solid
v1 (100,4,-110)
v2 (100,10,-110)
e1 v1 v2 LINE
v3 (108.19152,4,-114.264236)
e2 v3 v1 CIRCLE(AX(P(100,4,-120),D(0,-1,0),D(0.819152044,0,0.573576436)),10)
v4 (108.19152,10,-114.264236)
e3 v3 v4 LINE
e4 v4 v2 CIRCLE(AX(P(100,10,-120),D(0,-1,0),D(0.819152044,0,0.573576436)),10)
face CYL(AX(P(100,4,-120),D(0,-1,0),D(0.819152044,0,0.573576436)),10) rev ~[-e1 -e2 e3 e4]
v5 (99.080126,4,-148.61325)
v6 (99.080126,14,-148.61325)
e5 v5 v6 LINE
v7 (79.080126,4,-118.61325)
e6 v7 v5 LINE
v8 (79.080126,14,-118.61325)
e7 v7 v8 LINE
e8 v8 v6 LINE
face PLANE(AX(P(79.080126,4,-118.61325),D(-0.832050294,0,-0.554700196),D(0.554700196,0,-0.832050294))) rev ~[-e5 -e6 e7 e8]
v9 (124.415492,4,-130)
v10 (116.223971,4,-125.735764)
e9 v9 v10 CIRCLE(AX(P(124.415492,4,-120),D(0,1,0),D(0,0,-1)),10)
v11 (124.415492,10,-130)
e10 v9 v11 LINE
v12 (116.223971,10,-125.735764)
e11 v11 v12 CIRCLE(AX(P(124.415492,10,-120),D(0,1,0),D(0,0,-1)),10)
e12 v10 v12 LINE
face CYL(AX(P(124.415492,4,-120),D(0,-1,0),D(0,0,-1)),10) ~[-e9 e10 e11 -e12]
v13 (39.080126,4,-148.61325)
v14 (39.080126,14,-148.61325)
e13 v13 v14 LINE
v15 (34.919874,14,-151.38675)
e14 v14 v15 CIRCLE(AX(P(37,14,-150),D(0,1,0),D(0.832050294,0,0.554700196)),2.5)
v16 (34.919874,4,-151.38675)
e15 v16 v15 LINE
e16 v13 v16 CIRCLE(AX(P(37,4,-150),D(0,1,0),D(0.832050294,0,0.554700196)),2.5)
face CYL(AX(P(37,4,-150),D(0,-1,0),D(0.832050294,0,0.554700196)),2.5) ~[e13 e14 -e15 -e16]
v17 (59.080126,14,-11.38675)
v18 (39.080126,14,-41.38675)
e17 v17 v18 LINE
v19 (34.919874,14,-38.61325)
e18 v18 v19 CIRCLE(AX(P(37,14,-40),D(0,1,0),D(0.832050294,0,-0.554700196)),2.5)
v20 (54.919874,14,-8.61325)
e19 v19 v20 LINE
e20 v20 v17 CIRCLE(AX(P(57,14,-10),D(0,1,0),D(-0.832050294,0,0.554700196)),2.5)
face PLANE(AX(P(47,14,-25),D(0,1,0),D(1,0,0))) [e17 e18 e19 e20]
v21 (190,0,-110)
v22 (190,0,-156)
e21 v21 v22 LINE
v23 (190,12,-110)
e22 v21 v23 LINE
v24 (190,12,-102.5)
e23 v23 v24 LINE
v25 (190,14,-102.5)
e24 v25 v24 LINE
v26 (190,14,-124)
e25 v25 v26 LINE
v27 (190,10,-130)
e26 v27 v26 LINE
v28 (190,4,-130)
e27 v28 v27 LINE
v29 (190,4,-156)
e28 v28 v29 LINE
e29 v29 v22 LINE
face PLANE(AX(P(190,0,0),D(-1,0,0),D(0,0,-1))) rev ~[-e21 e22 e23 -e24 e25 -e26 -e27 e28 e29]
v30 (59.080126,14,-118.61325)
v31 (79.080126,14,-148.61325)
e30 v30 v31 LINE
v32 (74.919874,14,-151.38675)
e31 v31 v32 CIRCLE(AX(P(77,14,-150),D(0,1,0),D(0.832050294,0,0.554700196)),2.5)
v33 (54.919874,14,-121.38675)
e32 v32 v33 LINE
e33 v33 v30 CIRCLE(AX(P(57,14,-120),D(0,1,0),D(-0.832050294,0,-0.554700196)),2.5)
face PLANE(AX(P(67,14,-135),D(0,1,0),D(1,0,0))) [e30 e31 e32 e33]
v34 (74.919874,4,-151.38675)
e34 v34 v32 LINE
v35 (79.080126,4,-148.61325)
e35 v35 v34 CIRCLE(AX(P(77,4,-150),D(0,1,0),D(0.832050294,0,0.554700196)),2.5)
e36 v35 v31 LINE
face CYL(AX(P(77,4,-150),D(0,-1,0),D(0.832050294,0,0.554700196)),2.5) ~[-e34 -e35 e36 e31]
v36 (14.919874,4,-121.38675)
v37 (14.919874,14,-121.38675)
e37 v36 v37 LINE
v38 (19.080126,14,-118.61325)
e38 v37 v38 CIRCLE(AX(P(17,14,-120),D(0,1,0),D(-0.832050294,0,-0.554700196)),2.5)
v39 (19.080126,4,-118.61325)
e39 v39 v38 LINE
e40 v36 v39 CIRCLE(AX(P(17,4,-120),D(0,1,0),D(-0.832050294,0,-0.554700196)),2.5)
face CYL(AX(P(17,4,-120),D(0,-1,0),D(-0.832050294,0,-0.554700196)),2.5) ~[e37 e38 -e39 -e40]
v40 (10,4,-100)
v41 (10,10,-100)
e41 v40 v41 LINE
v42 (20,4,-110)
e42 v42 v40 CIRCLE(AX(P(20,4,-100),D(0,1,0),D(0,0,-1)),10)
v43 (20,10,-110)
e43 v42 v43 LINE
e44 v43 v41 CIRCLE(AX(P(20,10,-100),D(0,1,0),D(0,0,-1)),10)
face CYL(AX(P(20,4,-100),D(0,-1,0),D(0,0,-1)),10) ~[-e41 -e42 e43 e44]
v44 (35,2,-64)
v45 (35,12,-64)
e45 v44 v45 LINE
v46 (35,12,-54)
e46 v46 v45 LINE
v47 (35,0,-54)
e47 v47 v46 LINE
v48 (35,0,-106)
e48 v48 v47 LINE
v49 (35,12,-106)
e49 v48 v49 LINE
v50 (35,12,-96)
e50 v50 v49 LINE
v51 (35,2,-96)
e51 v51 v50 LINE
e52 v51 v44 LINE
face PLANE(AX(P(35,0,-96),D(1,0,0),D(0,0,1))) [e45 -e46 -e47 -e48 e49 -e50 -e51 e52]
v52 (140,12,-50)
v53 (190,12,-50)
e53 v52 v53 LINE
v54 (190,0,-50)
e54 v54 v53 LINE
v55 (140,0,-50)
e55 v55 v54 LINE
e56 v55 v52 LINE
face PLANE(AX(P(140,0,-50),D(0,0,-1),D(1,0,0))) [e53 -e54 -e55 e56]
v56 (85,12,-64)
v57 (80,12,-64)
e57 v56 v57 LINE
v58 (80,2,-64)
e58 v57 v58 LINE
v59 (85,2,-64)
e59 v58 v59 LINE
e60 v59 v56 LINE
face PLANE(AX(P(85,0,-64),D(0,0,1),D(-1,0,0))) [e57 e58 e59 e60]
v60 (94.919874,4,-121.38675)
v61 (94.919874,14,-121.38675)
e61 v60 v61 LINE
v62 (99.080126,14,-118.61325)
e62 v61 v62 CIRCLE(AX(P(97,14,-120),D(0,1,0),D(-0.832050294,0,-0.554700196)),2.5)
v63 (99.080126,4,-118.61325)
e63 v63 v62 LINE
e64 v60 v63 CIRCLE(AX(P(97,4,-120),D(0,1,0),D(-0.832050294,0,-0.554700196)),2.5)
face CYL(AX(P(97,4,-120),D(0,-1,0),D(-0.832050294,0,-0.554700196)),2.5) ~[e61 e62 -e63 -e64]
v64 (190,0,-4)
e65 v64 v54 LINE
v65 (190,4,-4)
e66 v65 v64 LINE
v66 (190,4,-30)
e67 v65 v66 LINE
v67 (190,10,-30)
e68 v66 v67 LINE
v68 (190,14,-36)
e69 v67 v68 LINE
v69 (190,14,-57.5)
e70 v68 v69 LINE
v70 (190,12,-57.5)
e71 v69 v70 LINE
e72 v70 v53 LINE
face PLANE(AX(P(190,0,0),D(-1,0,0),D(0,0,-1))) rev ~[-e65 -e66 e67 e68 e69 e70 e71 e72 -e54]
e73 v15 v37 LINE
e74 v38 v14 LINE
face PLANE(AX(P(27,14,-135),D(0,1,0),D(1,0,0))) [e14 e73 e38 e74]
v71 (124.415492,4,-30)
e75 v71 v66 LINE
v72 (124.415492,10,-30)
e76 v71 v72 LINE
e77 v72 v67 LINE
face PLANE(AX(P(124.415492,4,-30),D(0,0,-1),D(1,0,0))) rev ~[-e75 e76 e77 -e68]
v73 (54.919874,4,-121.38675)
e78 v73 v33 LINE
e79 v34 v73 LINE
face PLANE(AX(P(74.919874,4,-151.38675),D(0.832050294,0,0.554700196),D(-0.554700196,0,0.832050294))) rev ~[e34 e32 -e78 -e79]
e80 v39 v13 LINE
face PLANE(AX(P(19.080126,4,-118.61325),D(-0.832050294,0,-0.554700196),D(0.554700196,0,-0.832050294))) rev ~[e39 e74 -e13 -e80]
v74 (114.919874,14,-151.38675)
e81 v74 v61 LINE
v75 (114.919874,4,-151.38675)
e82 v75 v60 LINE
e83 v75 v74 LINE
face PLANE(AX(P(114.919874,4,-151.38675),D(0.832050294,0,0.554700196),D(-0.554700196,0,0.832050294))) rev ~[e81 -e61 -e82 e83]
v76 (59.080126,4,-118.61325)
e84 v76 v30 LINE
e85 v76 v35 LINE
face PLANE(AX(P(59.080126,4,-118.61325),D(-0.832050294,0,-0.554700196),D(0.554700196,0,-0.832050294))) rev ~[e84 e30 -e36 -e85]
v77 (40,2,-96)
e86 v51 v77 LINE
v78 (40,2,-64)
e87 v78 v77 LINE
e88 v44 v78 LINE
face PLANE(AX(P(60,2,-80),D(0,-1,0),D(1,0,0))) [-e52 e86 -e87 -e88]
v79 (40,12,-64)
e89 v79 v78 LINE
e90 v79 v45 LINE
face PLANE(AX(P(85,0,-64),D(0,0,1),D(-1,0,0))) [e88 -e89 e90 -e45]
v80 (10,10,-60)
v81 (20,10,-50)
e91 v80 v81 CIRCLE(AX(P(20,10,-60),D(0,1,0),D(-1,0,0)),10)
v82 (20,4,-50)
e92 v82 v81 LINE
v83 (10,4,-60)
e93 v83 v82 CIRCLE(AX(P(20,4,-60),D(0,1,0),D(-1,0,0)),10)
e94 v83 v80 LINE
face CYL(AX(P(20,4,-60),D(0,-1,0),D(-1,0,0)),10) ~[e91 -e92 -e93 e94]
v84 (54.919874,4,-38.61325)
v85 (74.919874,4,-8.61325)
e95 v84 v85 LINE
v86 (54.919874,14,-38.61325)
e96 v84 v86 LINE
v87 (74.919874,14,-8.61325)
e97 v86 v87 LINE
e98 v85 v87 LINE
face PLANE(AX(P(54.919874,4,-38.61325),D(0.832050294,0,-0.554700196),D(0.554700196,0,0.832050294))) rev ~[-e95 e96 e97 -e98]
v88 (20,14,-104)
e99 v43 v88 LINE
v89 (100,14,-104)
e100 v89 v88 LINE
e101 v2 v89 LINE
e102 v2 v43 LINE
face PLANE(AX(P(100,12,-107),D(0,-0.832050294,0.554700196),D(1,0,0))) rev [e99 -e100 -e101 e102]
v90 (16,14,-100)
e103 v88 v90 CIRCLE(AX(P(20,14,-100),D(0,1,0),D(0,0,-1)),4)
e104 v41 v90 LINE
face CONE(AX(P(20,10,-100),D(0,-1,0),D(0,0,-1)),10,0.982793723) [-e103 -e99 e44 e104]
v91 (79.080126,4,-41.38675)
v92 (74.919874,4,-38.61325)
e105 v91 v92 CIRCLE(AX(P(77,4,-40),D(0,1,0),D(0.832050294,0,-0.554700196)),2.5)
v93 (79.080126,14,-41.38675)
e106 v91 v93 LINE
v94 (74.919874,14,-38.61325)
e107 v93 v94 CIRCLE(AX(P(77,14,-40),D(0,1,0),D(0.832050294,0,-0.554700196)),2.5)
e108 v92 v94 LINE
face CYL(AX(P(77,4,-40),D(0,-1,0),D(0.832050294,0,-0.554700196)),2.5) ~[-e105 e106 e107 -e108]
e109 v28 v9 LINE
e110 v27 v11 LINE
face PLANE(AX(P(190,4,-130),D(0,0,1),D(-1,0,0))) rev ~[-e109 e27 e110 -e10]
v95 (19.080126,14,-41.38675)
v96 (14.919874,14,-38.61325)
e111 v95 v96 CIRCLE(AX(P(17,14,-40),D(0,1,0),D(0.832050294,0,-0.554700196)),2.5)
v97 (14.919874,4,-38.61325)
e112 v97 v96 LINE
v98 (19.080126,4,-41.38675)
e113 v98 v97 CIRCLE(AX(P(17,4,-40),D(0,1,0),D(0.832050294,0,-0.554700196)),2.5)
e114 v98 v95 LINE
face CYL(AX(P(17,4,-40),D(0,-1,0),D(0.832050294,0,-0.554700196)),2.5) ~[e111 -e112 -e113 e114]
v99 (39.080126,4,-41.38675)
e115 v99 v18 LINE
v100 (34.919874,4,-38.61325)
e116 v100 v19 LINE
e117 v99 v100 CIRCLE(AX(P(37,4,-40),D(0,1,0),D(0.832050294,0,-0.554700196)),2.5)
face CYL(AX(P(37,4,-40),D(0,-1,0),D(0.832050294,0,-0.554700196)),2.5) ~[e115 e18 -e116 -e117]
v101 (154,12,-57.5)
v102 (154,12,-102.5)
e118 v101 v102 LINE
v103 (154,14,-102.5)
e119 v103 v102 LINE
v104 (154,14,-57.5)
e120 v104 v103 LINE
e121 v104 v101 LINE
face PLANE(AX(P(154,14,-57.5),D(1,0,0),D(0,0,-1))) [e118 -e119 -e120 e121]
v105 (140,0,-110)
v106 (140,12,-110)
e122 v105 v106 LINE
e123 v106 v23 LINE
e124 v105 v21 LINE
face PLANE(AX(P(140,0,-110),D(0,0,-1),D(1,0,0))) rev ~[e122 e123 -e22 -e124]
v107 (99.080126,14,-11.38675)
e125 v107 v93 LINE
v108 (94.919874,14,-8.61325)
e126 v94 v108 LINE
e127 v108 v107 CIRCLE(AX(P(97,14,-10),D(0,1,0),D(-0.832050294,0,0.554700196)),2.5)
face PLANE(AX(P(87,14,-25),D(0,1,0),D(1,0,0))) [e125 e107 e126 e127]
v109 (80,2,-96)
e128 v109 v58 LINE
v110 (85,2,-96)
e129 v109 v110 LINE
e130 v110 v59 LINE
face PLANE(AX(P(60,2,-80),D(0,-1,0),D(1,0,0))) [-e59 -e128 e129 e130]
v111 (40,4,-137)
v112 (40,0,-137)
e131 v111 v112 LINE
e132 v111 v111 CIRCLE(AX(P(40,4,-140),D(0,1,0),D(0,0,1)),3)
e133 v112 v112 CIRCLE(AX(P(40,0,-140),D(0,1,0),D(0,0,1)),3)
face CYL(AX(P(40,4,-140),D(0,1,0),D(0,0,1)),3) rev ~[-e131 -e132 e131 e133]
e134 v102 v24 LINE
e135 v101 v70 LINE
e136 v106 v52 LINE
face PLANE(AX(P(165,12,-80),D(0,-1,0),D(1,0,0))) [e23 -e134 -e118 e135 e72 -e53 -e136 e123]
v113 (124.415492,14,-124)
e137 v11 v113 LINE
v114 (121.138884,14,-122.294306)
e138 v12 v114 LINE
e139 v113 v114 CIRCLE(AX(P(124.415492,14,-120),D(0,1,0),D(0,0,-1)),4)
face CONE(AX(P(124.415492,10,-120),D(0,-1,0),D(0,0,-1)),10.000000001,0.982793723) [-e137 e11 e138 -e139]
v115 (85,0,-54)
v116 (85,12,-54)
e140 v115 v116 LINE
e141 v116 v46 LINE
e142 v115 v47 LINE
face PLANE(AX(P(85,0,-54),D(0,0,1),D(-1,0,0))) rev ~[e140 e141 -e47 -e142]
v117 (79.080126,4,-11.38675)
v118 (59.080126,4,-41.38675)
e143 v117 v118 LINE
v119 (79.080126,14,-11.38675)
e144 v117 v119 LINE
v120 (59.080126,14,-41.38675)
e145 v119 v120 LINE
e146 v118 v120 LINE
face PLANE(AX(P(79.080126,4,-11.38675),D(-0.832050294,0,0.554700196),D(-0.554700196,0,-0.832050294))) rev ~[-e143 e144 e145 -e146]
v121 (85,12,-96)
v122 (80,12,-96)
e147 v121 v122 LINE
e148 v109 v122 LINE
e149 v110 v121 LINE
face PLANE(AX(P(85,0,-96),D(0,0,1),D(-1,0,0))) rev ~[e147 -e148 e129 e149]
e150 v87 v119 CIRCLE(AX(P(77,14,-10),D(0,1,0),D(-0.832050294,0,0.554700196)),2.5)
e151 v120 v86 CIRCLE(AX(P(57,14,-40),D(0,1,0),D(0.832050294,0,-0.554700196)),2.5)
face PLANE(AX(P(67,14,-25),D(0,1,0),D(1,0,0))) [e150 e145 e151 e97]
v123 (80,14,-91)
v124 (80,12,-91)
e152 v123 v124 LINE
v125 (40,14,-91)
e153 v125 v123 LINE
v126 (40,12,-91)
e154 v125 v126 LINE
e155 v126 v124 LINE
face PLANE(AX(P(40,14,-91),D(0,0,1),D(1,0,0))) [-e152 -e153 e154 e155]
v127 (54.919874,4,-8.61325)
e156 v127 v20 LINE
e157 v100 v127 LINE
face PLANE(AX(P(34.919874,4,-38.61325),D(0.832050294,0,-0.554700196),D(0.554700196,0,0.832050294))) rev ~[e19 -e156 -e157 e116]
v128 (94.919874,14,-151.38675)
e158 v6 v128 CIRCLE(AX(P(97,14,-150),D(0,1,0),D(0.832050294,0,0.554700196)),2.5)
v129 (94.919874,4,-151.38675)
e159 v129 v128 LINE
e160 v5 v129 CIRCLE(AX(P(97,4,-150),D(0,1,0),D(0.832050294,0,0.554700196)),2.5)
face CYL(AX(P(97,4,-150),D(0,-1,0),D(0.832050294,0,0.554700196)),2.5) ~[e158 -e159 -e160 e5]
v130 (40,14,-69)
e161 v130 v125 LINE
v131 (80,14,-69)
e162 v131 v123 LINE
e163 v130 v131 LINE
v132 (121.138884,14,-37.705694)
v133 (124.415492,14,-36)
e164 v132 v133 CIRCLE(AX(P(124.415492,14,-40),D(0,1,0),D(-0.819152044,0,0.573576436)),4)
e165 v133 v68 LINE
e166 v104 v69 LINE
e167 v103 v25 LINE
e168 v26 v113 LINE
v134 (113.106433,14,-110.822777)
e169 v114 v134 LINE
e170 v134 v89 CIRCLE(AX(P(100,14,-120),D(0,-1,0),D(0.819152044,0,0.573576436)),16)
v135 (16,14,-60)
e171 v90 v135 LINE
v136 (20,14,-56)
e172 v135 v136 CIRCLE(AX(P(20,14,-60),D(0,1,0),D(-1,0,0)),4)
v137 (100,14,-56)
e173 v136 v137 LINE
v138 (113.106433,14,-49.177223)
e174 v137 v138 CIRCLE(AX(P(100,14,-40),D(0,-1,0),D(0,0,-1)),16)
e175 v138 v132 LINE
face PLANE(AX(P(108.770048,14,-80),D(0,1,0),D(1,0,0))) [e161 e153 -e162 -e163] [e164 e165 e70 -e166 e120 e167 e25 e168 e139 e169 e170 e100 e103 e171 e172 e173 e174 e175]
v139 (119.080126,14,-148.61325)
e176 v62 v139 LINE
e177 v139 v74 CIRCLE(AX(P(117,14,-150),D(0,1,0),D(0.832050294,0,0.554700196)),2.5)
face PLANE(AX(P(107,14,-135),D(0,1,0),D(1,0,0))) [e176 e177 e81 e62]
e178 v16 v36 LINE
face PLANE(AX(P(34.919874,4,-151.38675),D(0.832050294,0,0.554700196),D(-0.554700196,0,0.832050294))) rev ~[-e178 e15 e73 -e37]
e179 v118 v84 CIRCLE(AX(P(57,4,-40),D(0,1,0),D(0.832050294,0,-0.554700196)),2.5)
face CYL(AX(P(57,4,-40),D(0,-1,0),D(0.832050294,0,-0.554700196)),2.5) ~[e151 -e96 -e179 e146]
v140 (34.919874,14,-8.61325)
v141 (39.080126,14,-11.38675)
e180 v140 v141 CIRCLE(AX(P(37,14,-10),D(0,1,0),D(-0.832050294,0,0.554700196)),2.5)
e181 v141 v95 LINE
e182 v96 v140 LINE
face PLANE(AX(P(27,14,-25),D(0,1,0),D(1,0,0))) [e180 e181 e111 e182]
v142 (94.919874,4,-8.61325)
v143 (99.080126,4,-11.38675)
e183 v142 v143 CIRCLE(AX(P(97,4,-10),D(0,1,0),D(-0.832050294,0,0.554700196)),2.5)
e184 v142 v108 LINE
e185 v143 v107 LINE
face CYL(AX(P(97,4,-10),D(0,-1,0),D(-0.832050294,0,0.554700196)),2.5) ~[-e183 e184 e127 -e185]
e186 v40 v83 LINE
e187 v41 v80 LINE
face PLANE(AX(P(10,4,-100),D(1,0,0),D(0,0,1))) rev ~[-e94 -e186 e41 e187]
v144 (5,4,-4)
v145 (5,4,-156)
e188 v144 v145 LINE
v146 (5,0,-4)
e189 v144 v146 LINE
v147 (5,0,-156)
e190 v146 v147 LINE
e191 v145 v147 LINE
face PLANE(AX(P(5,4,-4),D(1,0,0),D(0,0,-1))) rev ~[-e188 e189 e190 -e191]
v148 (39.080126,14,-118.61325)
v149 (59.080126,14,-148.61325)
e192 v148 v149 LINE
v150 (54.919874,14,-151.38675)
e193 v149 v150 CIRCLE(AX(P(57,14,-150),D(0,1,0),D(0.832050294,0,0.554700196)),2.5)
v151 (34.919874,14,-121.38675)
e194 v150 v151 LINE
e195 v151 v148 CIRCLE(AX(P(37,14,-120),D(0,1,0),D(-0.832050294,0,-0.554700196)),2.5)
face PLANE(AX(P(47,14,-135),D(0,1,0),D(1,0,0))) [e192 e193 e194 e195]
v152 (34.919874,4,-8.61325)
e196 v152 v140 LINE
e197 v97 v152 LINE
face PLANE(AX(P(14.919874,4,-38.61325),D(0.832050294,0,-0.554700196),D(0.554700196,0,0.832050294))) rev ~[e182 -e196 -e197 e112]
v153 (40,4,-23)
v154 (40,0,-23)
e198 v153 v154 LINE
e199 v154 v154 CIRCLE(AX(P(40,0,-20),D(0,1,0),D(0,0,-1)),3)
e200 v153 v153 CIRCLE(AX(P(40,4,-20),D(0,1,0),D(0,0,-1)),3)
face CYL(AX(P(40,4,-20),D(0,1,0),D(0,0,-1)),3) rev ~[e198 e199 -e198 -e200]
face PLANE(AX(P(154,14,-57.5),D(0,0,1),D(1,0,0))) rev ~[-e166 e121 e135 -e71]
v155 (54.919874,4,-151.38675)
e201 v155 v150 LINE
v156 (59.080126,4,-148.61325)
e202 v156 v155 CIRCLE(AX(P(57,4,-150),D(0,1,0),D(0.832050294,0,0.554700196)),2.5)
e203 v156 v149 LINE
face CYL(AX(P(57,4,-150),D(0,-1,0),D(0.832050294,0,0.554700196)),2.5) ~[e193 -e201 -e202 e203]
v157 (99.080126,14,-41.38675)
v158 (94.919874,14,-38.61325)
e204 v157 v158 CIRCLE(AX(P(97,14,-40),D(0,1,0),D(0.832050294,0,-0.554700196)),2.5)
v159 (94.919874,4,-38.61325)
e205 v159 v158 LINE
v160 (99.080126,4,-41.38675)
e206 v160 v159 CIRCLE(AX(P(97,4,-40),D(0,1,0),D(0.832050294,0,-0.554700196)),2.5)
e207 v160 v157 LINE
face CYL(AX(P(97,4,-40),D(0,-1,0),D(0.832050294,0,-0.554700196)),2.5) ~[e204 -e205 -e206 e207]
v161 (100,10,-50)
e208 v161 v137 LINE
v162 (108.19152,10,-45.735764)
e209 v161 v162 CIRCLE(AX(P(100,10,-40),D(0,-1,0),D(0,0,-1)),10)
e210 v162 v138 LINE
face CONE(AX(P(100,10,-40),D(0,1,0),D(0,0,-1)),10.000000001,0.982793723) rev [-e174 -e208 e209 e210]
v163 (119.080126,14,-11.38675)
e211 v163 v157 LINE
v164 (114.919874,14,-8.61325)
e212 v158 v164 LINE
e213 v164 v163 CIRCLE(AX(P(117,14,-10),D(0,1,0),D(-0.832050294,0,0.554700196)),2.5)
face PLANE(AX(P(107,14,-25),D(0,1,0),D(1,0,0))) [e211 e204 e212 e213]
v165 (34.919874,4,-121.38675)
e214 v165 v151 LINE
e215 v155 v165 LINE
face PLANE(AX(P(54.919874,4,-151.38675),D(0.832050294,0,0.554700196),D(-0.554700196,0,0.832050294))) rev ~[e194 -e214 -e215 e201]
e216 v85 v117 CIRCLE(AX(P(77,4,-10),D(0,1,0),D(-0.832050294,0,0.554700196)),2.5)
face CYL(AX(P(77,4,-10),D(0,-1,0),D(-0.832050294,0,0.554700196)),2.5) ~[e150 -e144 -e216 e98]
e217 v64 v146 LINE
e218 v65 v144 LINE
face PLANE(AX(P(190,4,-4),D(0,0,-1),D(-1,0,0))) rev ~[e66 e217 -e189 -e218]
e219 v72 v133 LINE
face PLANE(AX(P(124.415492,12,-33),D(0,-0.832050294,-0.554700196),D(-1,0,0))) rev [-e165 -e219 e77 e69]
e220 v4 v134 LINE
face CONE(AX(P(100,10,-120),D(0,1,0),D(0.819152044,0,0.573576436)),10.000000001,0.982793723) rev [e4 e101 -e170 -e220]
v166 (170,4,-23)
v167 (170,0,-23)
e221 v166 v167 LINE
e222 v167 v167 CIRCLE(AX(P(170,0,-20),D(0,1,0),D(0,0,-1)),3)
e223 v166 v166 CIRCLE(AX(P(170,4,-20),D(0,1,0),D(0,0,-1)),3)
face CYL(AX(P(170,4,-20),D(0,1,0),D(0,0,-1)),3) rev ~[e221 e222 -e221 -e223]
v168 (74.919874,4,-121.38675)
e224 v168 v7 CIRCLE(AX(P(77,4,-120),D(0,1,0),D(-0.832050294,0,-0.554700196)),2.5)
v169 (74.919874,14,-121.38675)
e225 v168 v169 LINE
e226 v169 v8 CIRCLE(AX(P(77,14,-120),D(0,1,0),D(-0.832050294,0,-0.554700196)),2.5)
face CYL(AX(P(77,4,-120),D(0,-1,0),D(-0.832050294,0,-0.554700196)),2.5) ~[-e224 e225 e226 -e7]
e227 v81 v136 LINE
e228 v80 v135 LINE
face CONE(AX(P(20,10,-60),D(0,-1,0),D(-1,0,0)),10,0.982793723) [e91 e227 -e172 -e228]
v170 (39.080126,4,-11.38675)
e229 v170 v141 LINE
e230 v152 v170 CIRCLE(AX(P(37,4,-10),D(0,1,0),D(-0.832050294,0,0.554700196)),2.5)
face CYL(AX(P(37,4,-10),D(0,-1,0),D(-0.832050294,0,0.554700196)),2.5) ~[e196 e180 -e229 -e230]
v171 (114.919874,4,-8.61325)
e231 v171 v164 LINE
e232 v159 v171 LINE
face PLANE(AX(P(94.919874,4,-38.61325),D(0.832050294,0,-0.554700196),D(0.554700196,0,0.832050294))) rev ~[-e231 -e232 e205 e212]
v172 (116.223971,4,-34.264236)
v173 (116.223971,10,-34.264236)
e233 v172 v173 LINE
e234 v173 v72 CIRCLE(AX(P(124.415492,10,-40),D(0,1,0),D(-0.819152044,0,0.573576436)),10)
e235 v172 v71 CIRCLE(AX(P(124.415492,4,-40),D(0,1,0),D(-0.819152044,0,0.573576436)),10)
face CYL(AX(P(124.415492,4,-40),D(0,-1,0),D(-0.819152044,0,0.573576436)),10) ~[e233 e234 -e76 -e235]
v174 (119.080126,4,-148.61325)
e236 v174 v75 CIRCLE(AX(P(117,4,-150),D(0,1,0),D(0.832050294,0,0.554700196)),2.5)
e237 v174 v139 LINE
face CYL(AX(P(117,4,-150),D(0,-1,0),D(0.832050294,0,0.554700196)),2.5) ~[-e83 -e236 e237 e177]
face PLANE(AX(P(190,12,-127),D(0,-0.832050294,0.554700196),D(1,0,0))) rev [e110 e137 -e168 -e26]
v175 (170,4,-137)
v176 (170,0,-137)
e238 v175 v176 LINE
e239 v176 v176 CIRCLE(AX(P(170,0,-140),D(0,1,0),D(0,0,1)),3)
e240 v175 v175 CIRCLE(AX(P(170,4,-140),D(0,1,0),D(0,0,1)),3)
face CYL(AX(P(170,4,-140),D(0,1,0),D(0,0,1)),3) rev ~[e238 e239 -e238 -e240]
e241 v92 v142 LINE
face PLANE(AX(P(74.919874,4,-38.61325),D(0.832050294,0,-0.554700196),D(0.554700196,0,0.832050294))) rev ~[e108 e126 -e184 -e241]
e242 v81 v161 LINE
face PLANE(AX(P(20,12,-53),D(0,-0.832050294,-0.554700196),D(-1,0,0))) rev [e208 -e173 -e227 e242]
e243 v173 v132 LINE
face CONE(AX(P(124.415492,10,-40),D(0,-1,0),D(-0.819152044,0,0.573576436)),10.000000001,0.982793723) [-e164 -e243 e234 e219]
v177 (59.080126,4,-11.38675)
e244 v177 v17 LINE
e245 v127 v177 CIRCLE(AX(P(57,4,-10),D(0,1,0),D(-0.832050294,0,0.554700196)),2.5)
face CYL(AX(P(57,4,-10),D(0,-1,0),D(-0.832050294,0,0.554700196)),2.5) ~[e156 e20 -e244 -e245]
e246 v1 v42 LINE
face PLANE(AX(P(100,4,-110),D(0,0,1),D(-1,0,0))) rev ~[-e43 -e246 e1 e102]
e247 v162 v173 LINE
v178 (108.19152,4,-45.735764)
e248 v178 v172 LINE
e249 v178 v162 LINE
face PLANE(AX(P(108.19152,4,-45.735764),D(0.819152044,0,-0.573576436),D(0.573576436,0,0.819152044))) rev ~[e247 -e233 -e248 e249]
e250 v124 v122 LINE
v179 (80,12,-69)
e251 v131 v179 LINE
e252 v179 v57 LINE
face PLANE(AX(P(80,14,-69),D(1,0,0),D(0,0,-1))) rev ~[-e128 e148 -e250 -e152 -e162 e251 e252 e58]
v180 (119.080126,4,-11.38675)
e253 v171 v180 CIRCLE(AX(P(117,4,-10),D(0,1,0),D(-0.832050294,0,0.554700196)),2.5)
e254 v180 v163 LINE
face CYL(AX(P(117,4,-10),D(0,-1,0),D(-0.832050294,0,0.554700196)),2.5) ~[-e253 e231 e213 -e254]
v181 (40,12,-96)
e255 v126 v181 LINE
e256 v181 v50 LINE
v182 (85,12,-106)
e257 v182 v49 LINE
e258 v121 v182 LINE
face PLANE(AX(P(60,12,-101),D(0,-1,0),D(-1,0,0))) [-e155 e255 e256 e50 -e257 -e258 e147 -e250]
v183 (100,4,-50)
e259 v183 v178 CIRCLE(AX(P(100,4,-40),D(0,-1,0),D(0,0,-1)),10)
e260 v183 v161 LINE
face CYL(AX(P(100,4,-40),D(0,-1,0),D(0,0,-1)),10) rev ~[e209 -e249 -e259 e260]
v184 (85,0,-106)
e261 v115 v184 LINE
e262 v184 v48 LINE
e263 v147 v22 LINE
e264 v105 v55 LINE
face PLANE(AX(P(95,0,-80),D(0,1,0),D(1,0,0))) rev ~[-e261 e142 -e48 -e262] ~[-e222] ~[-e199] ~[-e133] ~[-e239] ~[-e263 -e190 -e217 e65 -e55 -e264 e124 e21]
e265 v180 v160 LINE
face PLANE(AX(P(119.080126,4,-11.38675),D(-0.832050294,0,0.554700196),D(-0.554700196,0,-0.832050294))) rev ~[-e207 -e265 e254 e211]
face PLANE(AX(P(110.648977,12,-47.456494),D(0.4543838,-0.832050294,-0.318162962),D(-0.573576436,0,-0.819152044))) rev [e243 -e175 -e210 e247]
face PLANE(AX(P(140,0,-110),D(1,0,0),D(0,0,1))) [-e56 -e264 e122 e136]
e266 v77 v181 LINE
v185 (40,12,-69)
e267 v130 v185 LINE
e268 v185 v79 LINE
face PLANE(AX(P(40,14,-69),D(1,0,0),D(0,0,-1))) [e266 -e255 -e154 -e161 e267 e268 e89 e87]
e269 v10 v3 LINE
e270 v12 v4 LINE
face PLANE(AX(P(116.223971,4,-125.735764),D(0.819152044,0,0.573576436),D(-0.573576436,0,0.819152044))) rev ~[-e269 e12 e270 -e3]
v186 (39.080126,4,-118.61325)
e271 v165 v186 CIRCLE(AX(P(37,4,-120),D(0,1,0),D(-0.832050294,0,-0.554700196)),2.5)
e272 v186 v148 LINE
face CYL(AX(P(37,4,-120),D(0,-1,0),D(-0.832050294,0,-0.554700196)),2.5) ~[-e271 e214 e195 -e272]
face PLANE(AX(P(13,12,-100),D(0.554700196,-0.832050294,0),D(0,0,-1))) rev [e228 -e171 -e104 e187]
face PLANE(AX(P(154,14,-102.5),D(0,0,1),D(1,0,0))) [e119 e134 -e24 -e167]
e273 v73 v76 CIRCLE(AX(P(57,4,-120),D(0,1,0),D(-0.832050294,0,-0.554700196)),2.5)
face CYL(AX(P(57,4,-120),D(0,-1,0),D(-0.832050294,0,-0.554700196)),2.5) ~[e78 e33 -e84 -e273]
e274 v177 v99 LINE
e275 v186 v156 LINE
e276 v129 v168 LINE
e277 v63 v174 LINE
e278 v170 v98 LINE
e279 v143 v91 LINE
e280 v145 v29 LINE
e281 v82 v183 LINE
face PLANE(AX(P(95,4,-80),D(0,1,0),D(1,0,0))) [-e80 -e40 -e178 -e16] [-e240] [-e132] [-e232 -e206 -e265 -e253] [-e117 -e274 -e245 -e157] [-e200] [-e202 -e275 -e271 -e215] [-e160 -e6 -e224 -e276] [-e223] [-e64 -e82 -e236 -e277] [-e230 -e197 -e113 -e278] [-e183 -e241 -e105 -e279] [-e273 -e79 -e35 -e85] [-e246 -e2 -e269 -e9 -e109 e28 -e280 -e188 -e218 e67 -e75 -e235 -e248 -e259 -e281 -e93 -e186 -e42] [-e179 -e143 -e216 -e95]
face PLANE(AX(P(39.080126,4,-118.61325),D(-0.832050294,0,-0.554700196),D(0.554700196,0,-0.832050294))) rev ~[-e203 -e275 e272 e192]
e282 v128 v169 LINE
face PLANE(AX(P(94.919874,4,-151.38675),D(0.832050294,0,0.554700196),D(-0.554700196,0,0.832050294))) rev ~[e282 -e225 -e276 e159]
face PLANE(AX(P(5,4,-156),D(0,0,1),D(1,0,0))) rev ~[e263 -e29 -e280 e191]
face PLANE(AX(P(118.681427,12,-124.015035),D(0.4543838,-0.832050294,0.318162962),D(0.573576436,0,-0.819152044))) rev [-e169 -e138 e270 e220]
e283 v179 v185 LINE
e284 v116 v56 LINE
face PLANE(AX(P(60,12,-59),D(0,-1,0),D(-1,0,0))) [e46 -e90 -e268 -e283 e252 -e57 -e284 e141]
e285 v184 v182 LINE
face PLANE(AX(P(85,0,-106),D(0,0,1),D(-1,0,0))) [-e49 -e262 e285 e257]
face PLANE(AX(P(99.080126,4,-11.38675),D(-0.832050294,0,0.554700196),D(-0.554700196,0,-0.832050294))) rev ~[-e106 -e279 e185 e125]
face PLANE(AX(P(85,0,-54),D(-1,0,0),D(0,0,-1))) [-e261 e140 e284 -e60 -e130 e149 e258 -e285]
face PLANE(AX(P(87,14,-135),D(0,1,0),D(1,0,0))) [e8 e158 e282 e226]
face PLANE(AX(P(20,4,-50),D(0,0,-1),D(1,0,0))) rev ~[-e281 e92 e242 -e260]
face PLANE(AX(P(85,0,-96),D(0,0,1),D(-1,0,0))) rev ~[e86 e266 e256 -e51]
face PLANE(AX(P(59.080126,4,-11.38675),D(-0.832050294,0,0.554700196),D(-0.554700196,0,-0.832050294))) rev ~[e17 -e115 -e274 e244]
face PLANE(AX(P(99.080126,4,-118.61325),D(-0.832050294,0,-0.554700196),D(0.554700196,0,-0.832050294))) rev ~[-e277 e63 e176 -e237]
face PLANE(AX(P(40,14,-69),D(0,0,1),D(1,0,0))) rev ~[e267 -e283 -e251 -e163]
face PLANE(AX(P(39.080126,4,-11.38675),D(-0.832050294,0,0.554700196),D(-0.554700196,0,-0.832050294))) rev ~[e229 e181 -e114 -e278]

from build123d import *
from OCP.BRepFilletAPI import BRepFilletAPI_MakeChamfer

# Parameters (mm, degrees)
SKETCH1_W           = 190
SKETCH1_H           = 160
BOSS_EXTRUDE1_DEPTH = 4
BOSS_EXTRUDE2_DEPTH = 10
CHAMFER2_SIZE       = 4
CHAMFER2_SIZE2      = 6
SKETCH3_W           = 5
SKETCH3_H           = 152
SKETCH3_H_2         = 4
SKETCH3_W_2         = 185
CUT_EXTRUDE1_DEPTH  = 10
SKETCH4_W           = 40
SKETCH4_H           = 22
CUT_EXTRUDE2_DEPTH  = 20
SKETCH5_W           = 50
SKETCH5_H           = 32
CUT_EXTRUDE3_DEPTH  = 2
SKETCH6_W           = 50
SKETCH6_H           = 10
CUT_EXTRUDE5_DEPTH  = 12
SKETCH8_W           = 40
SKETCH8_H           = 10
CUT_EXTRUDE7_DEPTH  = 10
SKETCH9_W           = 40
SKETCH9_H           = 10
CUT_EXTRUDE8_DEPTH  = 10
SKETCH10_W          = 36
SKETCH10_H          = 45
CUT_EXTRUDE9_DEPTH  = 30
SKETCH11_W          = 50
SKETCH11_H          = 60
CUT_EXTRUDE10_DEPTH = 12
SKETCH12_R          = 3
CUT_EXTRUDE11_DEPTH = 10


with BuildPart() as part:
    # Sketch1 → Boss-Extrude1 (new body)
    with BuildSketch(Plane(origin=(0, 0, 0), x_dir=(1, 0, 0), z_dir=(0, 1, 0))):
        with Locations((95, 80)):
            Rectangle(SKETCH1_W, SKETCH1_H)
    extrude(amount=BOSS_EXTRUDE1_DEPTH)

    # Sketch2 → Boss-Extrude2 (add)
    with BuildSketch(Plane(origin=(0, 4, 0), x_dir=(1, 0, 0), z_dir=(0, 1, 0))):
        with BuildLine():
            Line((10, 100), (10, 60))
            ThreePointArc((10, 60), (12.928932188, 52.928932188), (20, 50))
            Line((20, 50), (100, 50))
            ThreePointArc((100, 50), (104.617486132, 48.870108332), (108.191520443, 45.735764364))
            Line((108.191520443, 45.735764364), (116.223971332, 34.264235636))
            ThreePointArc((116.223971332, 34.264235636), (119.798005643, 31.129891668), (124.415491775, 30))
            Line((124.415491775, 30), (190, 30))
            Line((190, 30), (190, 130))
            Line((190, 130), (124.415491775, 130))
            ThreePointArc((124.415491775, 130), (119.798005643, 128.870108332), (116.223971332, 125.735764364))
            Line((116.223971332, 125.735764364), (108.191520443, 114.264235636))
            ThreePointArc((108.191520443, 114.264235636), (104.617486132, 111.129891668), (100, 110))
            Line((100, 110), (68.372813246, 110))
            Line((68.372813246, 110), (20, 110))
            ThreePointArc((20, 110), (12.928932188, 107.071067812), (10, 100))
        make_face()
        with BuildLine():
            Line((14.919874264, 38.613249509), (34.919874264, 8.613249509))
            ThreePointArc((34.919874264, 8.613249509), (38.386750491, 7.919874264), (39.080125736, 11.386750491))
            Line((39.080125736, 11.386750491), (19.080125736, 41.386750491))
            ThreePointArc((19.080125736, 41.386750491), (15.613249509, 42.080125736), (14.919874264, 38.613249509))
        make_face()
        with BuildLine():
            Line((34.919874264, 38.613249509), (54.919874264, 8.613249509))
            ThreePointArc((54.919874264, 8.613249509), (58.386750491, 7.919874264), (59.080125736, 11.386750491))
            Line((59.080125736, 11.386750491), (39.080125736, 41.386750491))
            ThreePointArc((39.080125736, 41.386750491), (35.613249509, 42.080125736), (34.919874264, 38.613249509))
        make_face()
        with BuildLine():
            Line((54.919874264, 38.613249509), (74.919874264, 8.613249509))
            ThreePointArc((74.919874264, 8.613249509), (78.386750491, 7.919874264), (79.080125736, 11.386750491))
            Line((79.080125736, 11.386750491), (59.080125736, 41.386750491))
            ThreePointArc((59.080125736, 41.386750491), (55.613249509, 42.080125736), (54.919874264, 38.613249509))
        make_face()
        with BuildLine():
            Line((74.919874264, 38.613249509), (94.919874264, 8.613249509))
            ThreePointArc((94.919874264, 8.613249509), (98.386750491, 7.919874264), (99.080125736, 11.386750491))
            Line((99.080125736, 11.386750491), (79.080125736, 41.386750491))
            ThreePointArc((79.080125736, 41.386750491), (75.613249509, 42.080125736), (74.919874264, 38.613249509))
        make_face()
        with BuildLine():
            Line((94.919874264, 38.613249509), (114.919874264, 8.613249509))
            ThreePointArc((114.919874264, 8.613249509), (118.386750491, 7.919874264), (119.080125736, 11.386750491))
            Line((119.080125736, 11.386750491), (99.080125736, 41.386750491))
            ThreePointArc((99.080125736, 41.386750491), (95.613249509, 42.080125736), (94.919874264, 38.613249509))
        make_face()
        with BuildLine():
            Line((99.080125736, 118.613249509), (119.080125736, 148.613249509))
            ThreePointArc((119.080125736, 148.613249509), (118.386750491, 152.080125736), (114.919874264, 151.386750491))
            Line((114.919874264, 151.386750491), (94.919874264, 121.386750491))
            ThreePointArc((94.919874264, 121.386750491), (95.613249509, 117.919874264), (99.080125736, 118.613249509))
        make_face()
        with BuildLine():
            Line((79.080125736, 118.613249509), (99.080125736, 148.613249509))
            ThreePointArc((99.080125736, 148.613249509), (98.386750491, 152.080125736), (94.919874264, 151.386750491))
            Line((94.919874264, 151.386750491), (74.919874264, 121.386750491))
            ThreePointArc((74.919874264, 121.386750491), (75.613249509, 117.919874264), (79.080125736, 118.613249509))
        make_face()
        with BuildLine():
            Line((59.080125736, 118.613249509), (79.080125736, 148.613249509))
            ThreePointArc((79.080125736, 148.613249509), (78.386750491, 152.080125736), (74.919874264, 151.386750491))
            Line((74.919874264, 151.386750491), (54.919874264, 121.386750491))
            ThreePointArc((54.919874264, 121.386750491), (55.613249509, 117.919874264), (59.080125736, 118.613249509))
        make_face()
        with BuildLine():
            Line((39.080125736, 118.613249509), (59.080125736, 148.613249509))
            ThreePointArc((59.080125736, 148.613249509), (58.386750491, 152.080125736), (54.919874264, 151.386750491))
            Line((54.919874264, 151.386750491), (34.919874264, 121.386750491))
            ThreePointArc((34.919874264, 121.386750491), (35.613249509, 117.919874264), (39.080125736, 118.613249509))
        make_face()
        with BuildLine():
            Line((19.080125736, 118.613249509), (39.080125736, 148.613249509))
            ThreePointArc((39.080125736, 148.613249509), (38.386750491, 152.080125736), (34.919874264, 151.386750491))
            Line((34.919874264, 151.386750491), (14.919874264, 121.386750491))
            ThreePointArc((14.919874264, 121.386750491), (15.613249509, 117.919874264), (19.080125736, 118.613249509))
        make_face()
    extrude(amount=BOSS_EXTRUDE2_DEPTH)

    # Chamfer2: one chamfer whose edges measure the first distance from different faces: ONE call of the kernel's chamfer builder (chamfer() names one face for all edges)
    chamfer2_edges_1 = [part.edges().sort_by_distance(p)[0] for p in [
        (104.617486132, 14, -48.870108332),
    ]]
    chamfer2_side_1 = [part.faces().sort_by_distance(p)[0] for p in [
        (104.617486132, 9, -48.870108332),
    ]]
    chamfer2_edges_2 = [part.edges().sort_by_distance(p)[0] for p in [
        (157.207745888, 14, -130),
    ]]
    chamfer2_side_2 = [part.faces().sort_by_distance(p)[0] for p in [
        (157.207745888, 9, -130),
    ]]
    chamfer2_edges_3 = [part.edges().sort_by_distance(p)[0] for p in [
        (112.207745888, 14, -120),
    ]]
    chamfer2_side_3 = [part.faces().sort_by_distance(p)[0] for p in [
        (112.207745888, 9, -120),
    ]]
    chamfer2_edges_4 = [part.edges().sort_by_distance(p)[0] for p in [
        (60, 14, -110),
    ]]
    chamfer2_side_4 = [part.faces().sort_by_distance(p)[0] for p in [
        (60, 9, -110),
    ]]
    chamfer2_edges_5 = [part.edges().sort_by_distance(p)[0] for p in [
        (10, 14, -80),
    ]]
    chamfer2_side_5 = [part.faces().sort_by_distance(p)[0] for p in [
        (10, 9, -80),
    ]]
    chamfer2_edges_6 = [part.edges().sort_by_distance(p)[0] for p in [
        (112.207745888, 14, -40),
    ]]
    chamfer2_side_6 = [part.faces().sort_by_distance(p)[0] for p in [
        (112.207745888, 9, -40),
    ]]
    chamfer2_edges_7 = [part.edges().sort_by_distance(p)[0] for p in [
        (119.798005643, 14, -31.129891668),
    ]]
    chamfer2_side_7 = [part.faces().sort_by_distance(p)[0] for p in [
        (119.798005643, 9, -31.129891668),
    ]]
    chamfer2_edges_8 = [part.edges().sort_by_distance(p)[0] for p in [
        (157.207745888, 14, -30),
    ]]
    chamfer2_side_8 = [part.faces().sort_by_distance(p)[0] for p in [
        (157.207745888, 9, -30),
    ]]
    chamfer2_edges_9 = [part.edges().sort_by_distance(p)[0] for p in [
        (119.798005643, 14, -128.870108332),
    ]]
    chamfer2_side_9 = [part.faces().sort_by_distance(p)[0] for p in [
        (119.798005643, 9, -128.870108332),
    ]]
    chamfer2_edges_10 = [part.edges().sort_by_distance(p)[0] for p in [
        (104.617486132, 14, -111.129891668),
    ]]
    chamfer2_side_10 = [part.faces().sort_by_distance(p)[0] for p in [
        (104.617486132, 9, -111.129891668),
    ]]
    chamfer2_edges_11 = [part.edges().sort_by_distance(p)[0] for p in [
        (12.928932188, 14, -107.071067812),
    ]]
    chamfer2_side_11 = [part.faces().sort_by_distance(p)[0] for p in [
        (12.928932188, 9, -107.071067812),
    ]]
    chamfer2_edges_12 = [part.edges().sort_by_distance(p)[0] for p in [
        (12.928932188, 14, -52.928932188),
    ]]
    chamfer2_side_12 = [part.faces().sort_by_distance(p)[0] for p in [
        (12.928932188, 9, -52.928932188),
    ]]
    chamfer2_edges_13 = [part.edges().sort_by_distance(p)[0] for p in [
        (60, 14, -50),
    ]]
    chamfer2_side_13 = [part.faces().sort_by_distance(p)[0] for p in [
        (60, 9, -50),
    ]]
    chamfer2 = BRepFilletAPI_MakeChamfer(part.part.solid().wrapped)
    for e in chamfer2_edges_1:
        chamfer2.Add(CHAMFER2_SIZE, CHAMFER2_SIZE2, e.wrapped, chamfer2_side_1[0].wrapped)  # the first distance lies on this face
    for e in chamfer2_edges_2:
        chamfer2.Add(CHAMFER2_SIZE, CHAMFER2_SIZE2, e.wrapped, chamfer2_side_2[0].wrapped)  # the first distance lies on this face
    for e in chamfer2_edges_3:
        chamfer2.Add(CHAMFER2_SIZE, CHAMFER2_SIZE2, e.wrapped, chamfer2_side_3[0].wrapped)  # the first distance lies on this face
    for e in chamfer2_edges_4:
        chamfer2.Add(CHAMFER2_SIZE, CHAMFER2_SIZE2, e.wrapped, chamfer2_side_4[0].wrapped)  # the first distance lies on this face
    for e in chamfer2_edges_5:
        chamfer2.Add(CHAMFER2_SIZE, CHAMFER2_SIZE2, e.wrapped, chamfer2_side_5[0].wrapped)  # the first distance lies on this face
    for e in chamfer2_edges_6:
        chamfer2.Add(CHAMFER2_SIZE, CHAMFER2_SIZE2, e.wrapped, chamfer2_side_6[0].wrapped)  # the first distance lies on this face
    for e in chamfer2_edges_7:
        chamfer2.Add(CHAMFER2_SIZE, CHAMFER2_SIZE2, e.wrapped, chamfer2_side_7[0].wrapped)  # the first distance lies on this face
    for e in chamfer2_edges_8:
        chamfer2.Add(CHAMFER2_SIZE, CHAMFER2_SIZE2, e.wrapped, chamfer2_side_8[0].wrapped)  # the first distance lies on this face
    for e in chamfer2_edges_9:
        chamfer2.Add(CHAMFER2_SIZE, CHAMFER2_SIZE2, e.wrapped, chamfer2_side_9[0].wrapped)  # the first distance lies on this face
    for e in chamfer2_edges_10:
        chamfer2.Add(CHAMFER2_SIZE, CHAMFER2_SIZE2, e.wrapped, chamfer2_side_10[0].wrapped)  # the first distance lies on this face
    for e in chamfer2_edges_11:
        chamfer2.Add(CHAMFER2_SIZE, CHAMFER2_SIZE2, e.wrapped, chamfer2_side_11[0].wrapped)  # the first distance lies on this face
    for e in chamfer2_edges_12:
        chamfer2.Add(CHAMFER2_SIZE, CHAMFER2_SIZE2, e.wrapped, chamfer2_side_12[0].wrapped)  # the first distance lies on this face
    for e in chamfer2_edges_13:
        chamfer2.Add(CHAMFER2_SIZE, CHAMFER2_SIZE2, e.wrapped, chamfer2_side_13[0].wrapped)  # the first distance lies on this face
    add(Compound.cast(chamfer2.Shape()), mode=Mode.REPLACE)

    # Sketch3 → Cut-Extrude1 (cut)
    with BuildSketch(Plane(origin=(0, 4, 0), x_dir=(1, 0, 0), z_dir=(0, 1, 0))):
        Polygon((0, 0), (190, 0), (190, 4), (5, 4), (0, 4), align=None)
        with Locations((2.5, 80)):
            Rectangle(SKETCH3_W, SKETCH3_H)
        with Locations((2.5, 158)):
            Rectangle(SKETCH3_W, SKETCH3_H_2)
        with Locations((97.5, 158)):
            Rectangle(SKETCH3_W_2, SKETCH3_H_2)
    extrude(amount=-CUT_EXTRUDE1_DEPTH, mode=Mode.SUBTRACT)

    # Sketch4 → Cut-Extrude2 (cut)
    with BuildSketch(Plane(origin=(0, 14, 0), x_dir=(1, 0, 0), z_dir=(0, 1, 0))):
        with Locations((60, 80)):
            Rectangle(SKETCH4_W, SKETCH4_H)
    extrude(amount=-CUT_EXTRUDE2_DEPTH, mode=Mode.SUBTRACT)

    # Sketch5 → Cut-Extrude3 (cut)
    with BuildSketch(Plane.XZ):
        with Locations((60, -80)):
            Rectangle(SKETCH5_W, SKETCH5_H)
    extrude(amount=-CUT_EXTRUDE3_DEPTH, mode=Mode.SUBTRACT)

    # Sketch6 → Cut-Extrude5 (cut)
    with BuildSketch(Plane(origin=(0, 0, 0), x_dir=(-1, 0, 0), z_dir=(0, -1, 0))):
        with Locations((-60, 101)):
            Rectangle(SKETCH6_W, SKETCH6_H)
        with Locations((-60, 59)):
            Rectangle(SKETCH6_W, SKETCH6_H)
    extrude(amount=-CUT_EXTRUDE5_DEPTH, mode=Mode.SUBTRACT)

    # Sketch8 → Cut-Extrude7 (cut)
    with BuildSketch(Plane.XY.offset(-91)):
        with Locations((60, 7)):
            Rectangle(SKETCH8_W, SKETCH8_H)
    extrude(amount=-CUT_EXTRUDE7_DEPTH, mode=Mode.SUBTRACT)

    # Sketch9 → Cut-Extrude8 (cut)
    with BuildSketch(Plane(origin=(0, 0, -69), x_dir=(-1, 0, 0), z_dir=(0, 0, -1))):
        with Locations((-60, 7)):
            Rectangle(SKETCH9_W, SKETCH9_H)
    extrude(amount=-CUT_EXTRUDE8_DEPTH, mode=Mode.SUBTRACT)

    # Sketch10 → Cut-Extrude9 (cut)
    with BuildSketch(Plane(origin=(0, 14, 0), x_dir=(1, 0, 0), z_dir=(0, 1, 0))):
        with Locations((172, 80)):
            Rectangle(SKETCH10_W, SKETCH10_H)
    extrude(amount=-CUT_EXTRUDE9_DEPTH, mode=Mode.SUBTRACT)

    # Sketch11 → Cut-Extrude10 (cut)
    with BuildSketch(Plane.XZ):
        with Locations((165, -80)):
            Rectangle(SKETCH11_W, SKETCH11_H)
    extrude(amount=-CUT_EXTRUDE10_DEPTH, mode=Mode.SUBTRACT)

    # Sketch12 → Cut-Extrude11 (cut)
    with BuildSketch(Plane(origin=(0, 4, 0), x_dir=(1, 0, 0), z_dir=(0, 1, 0))):
        with Locations(Location((40, 140, 0), (0, 0, 270))):
            Circle(SKETCH12_R)
        with Locations(Location((170, 140, 0), (0, 0, 270))):
            Circle(SKETCH12_R)
        with Locations(Location((40, 20, 0), (0, 0, 90))):
            Circle(SKETCH12_R)
        with Locations(Location((170, 20, 0), (0, 0, 90))):
            Circle(SKETCH12_R)
    extrude(amount=-CUT_EXTRUDE11_DEPTH, mode=Mode.SUBTRACT)


solid = part.part
